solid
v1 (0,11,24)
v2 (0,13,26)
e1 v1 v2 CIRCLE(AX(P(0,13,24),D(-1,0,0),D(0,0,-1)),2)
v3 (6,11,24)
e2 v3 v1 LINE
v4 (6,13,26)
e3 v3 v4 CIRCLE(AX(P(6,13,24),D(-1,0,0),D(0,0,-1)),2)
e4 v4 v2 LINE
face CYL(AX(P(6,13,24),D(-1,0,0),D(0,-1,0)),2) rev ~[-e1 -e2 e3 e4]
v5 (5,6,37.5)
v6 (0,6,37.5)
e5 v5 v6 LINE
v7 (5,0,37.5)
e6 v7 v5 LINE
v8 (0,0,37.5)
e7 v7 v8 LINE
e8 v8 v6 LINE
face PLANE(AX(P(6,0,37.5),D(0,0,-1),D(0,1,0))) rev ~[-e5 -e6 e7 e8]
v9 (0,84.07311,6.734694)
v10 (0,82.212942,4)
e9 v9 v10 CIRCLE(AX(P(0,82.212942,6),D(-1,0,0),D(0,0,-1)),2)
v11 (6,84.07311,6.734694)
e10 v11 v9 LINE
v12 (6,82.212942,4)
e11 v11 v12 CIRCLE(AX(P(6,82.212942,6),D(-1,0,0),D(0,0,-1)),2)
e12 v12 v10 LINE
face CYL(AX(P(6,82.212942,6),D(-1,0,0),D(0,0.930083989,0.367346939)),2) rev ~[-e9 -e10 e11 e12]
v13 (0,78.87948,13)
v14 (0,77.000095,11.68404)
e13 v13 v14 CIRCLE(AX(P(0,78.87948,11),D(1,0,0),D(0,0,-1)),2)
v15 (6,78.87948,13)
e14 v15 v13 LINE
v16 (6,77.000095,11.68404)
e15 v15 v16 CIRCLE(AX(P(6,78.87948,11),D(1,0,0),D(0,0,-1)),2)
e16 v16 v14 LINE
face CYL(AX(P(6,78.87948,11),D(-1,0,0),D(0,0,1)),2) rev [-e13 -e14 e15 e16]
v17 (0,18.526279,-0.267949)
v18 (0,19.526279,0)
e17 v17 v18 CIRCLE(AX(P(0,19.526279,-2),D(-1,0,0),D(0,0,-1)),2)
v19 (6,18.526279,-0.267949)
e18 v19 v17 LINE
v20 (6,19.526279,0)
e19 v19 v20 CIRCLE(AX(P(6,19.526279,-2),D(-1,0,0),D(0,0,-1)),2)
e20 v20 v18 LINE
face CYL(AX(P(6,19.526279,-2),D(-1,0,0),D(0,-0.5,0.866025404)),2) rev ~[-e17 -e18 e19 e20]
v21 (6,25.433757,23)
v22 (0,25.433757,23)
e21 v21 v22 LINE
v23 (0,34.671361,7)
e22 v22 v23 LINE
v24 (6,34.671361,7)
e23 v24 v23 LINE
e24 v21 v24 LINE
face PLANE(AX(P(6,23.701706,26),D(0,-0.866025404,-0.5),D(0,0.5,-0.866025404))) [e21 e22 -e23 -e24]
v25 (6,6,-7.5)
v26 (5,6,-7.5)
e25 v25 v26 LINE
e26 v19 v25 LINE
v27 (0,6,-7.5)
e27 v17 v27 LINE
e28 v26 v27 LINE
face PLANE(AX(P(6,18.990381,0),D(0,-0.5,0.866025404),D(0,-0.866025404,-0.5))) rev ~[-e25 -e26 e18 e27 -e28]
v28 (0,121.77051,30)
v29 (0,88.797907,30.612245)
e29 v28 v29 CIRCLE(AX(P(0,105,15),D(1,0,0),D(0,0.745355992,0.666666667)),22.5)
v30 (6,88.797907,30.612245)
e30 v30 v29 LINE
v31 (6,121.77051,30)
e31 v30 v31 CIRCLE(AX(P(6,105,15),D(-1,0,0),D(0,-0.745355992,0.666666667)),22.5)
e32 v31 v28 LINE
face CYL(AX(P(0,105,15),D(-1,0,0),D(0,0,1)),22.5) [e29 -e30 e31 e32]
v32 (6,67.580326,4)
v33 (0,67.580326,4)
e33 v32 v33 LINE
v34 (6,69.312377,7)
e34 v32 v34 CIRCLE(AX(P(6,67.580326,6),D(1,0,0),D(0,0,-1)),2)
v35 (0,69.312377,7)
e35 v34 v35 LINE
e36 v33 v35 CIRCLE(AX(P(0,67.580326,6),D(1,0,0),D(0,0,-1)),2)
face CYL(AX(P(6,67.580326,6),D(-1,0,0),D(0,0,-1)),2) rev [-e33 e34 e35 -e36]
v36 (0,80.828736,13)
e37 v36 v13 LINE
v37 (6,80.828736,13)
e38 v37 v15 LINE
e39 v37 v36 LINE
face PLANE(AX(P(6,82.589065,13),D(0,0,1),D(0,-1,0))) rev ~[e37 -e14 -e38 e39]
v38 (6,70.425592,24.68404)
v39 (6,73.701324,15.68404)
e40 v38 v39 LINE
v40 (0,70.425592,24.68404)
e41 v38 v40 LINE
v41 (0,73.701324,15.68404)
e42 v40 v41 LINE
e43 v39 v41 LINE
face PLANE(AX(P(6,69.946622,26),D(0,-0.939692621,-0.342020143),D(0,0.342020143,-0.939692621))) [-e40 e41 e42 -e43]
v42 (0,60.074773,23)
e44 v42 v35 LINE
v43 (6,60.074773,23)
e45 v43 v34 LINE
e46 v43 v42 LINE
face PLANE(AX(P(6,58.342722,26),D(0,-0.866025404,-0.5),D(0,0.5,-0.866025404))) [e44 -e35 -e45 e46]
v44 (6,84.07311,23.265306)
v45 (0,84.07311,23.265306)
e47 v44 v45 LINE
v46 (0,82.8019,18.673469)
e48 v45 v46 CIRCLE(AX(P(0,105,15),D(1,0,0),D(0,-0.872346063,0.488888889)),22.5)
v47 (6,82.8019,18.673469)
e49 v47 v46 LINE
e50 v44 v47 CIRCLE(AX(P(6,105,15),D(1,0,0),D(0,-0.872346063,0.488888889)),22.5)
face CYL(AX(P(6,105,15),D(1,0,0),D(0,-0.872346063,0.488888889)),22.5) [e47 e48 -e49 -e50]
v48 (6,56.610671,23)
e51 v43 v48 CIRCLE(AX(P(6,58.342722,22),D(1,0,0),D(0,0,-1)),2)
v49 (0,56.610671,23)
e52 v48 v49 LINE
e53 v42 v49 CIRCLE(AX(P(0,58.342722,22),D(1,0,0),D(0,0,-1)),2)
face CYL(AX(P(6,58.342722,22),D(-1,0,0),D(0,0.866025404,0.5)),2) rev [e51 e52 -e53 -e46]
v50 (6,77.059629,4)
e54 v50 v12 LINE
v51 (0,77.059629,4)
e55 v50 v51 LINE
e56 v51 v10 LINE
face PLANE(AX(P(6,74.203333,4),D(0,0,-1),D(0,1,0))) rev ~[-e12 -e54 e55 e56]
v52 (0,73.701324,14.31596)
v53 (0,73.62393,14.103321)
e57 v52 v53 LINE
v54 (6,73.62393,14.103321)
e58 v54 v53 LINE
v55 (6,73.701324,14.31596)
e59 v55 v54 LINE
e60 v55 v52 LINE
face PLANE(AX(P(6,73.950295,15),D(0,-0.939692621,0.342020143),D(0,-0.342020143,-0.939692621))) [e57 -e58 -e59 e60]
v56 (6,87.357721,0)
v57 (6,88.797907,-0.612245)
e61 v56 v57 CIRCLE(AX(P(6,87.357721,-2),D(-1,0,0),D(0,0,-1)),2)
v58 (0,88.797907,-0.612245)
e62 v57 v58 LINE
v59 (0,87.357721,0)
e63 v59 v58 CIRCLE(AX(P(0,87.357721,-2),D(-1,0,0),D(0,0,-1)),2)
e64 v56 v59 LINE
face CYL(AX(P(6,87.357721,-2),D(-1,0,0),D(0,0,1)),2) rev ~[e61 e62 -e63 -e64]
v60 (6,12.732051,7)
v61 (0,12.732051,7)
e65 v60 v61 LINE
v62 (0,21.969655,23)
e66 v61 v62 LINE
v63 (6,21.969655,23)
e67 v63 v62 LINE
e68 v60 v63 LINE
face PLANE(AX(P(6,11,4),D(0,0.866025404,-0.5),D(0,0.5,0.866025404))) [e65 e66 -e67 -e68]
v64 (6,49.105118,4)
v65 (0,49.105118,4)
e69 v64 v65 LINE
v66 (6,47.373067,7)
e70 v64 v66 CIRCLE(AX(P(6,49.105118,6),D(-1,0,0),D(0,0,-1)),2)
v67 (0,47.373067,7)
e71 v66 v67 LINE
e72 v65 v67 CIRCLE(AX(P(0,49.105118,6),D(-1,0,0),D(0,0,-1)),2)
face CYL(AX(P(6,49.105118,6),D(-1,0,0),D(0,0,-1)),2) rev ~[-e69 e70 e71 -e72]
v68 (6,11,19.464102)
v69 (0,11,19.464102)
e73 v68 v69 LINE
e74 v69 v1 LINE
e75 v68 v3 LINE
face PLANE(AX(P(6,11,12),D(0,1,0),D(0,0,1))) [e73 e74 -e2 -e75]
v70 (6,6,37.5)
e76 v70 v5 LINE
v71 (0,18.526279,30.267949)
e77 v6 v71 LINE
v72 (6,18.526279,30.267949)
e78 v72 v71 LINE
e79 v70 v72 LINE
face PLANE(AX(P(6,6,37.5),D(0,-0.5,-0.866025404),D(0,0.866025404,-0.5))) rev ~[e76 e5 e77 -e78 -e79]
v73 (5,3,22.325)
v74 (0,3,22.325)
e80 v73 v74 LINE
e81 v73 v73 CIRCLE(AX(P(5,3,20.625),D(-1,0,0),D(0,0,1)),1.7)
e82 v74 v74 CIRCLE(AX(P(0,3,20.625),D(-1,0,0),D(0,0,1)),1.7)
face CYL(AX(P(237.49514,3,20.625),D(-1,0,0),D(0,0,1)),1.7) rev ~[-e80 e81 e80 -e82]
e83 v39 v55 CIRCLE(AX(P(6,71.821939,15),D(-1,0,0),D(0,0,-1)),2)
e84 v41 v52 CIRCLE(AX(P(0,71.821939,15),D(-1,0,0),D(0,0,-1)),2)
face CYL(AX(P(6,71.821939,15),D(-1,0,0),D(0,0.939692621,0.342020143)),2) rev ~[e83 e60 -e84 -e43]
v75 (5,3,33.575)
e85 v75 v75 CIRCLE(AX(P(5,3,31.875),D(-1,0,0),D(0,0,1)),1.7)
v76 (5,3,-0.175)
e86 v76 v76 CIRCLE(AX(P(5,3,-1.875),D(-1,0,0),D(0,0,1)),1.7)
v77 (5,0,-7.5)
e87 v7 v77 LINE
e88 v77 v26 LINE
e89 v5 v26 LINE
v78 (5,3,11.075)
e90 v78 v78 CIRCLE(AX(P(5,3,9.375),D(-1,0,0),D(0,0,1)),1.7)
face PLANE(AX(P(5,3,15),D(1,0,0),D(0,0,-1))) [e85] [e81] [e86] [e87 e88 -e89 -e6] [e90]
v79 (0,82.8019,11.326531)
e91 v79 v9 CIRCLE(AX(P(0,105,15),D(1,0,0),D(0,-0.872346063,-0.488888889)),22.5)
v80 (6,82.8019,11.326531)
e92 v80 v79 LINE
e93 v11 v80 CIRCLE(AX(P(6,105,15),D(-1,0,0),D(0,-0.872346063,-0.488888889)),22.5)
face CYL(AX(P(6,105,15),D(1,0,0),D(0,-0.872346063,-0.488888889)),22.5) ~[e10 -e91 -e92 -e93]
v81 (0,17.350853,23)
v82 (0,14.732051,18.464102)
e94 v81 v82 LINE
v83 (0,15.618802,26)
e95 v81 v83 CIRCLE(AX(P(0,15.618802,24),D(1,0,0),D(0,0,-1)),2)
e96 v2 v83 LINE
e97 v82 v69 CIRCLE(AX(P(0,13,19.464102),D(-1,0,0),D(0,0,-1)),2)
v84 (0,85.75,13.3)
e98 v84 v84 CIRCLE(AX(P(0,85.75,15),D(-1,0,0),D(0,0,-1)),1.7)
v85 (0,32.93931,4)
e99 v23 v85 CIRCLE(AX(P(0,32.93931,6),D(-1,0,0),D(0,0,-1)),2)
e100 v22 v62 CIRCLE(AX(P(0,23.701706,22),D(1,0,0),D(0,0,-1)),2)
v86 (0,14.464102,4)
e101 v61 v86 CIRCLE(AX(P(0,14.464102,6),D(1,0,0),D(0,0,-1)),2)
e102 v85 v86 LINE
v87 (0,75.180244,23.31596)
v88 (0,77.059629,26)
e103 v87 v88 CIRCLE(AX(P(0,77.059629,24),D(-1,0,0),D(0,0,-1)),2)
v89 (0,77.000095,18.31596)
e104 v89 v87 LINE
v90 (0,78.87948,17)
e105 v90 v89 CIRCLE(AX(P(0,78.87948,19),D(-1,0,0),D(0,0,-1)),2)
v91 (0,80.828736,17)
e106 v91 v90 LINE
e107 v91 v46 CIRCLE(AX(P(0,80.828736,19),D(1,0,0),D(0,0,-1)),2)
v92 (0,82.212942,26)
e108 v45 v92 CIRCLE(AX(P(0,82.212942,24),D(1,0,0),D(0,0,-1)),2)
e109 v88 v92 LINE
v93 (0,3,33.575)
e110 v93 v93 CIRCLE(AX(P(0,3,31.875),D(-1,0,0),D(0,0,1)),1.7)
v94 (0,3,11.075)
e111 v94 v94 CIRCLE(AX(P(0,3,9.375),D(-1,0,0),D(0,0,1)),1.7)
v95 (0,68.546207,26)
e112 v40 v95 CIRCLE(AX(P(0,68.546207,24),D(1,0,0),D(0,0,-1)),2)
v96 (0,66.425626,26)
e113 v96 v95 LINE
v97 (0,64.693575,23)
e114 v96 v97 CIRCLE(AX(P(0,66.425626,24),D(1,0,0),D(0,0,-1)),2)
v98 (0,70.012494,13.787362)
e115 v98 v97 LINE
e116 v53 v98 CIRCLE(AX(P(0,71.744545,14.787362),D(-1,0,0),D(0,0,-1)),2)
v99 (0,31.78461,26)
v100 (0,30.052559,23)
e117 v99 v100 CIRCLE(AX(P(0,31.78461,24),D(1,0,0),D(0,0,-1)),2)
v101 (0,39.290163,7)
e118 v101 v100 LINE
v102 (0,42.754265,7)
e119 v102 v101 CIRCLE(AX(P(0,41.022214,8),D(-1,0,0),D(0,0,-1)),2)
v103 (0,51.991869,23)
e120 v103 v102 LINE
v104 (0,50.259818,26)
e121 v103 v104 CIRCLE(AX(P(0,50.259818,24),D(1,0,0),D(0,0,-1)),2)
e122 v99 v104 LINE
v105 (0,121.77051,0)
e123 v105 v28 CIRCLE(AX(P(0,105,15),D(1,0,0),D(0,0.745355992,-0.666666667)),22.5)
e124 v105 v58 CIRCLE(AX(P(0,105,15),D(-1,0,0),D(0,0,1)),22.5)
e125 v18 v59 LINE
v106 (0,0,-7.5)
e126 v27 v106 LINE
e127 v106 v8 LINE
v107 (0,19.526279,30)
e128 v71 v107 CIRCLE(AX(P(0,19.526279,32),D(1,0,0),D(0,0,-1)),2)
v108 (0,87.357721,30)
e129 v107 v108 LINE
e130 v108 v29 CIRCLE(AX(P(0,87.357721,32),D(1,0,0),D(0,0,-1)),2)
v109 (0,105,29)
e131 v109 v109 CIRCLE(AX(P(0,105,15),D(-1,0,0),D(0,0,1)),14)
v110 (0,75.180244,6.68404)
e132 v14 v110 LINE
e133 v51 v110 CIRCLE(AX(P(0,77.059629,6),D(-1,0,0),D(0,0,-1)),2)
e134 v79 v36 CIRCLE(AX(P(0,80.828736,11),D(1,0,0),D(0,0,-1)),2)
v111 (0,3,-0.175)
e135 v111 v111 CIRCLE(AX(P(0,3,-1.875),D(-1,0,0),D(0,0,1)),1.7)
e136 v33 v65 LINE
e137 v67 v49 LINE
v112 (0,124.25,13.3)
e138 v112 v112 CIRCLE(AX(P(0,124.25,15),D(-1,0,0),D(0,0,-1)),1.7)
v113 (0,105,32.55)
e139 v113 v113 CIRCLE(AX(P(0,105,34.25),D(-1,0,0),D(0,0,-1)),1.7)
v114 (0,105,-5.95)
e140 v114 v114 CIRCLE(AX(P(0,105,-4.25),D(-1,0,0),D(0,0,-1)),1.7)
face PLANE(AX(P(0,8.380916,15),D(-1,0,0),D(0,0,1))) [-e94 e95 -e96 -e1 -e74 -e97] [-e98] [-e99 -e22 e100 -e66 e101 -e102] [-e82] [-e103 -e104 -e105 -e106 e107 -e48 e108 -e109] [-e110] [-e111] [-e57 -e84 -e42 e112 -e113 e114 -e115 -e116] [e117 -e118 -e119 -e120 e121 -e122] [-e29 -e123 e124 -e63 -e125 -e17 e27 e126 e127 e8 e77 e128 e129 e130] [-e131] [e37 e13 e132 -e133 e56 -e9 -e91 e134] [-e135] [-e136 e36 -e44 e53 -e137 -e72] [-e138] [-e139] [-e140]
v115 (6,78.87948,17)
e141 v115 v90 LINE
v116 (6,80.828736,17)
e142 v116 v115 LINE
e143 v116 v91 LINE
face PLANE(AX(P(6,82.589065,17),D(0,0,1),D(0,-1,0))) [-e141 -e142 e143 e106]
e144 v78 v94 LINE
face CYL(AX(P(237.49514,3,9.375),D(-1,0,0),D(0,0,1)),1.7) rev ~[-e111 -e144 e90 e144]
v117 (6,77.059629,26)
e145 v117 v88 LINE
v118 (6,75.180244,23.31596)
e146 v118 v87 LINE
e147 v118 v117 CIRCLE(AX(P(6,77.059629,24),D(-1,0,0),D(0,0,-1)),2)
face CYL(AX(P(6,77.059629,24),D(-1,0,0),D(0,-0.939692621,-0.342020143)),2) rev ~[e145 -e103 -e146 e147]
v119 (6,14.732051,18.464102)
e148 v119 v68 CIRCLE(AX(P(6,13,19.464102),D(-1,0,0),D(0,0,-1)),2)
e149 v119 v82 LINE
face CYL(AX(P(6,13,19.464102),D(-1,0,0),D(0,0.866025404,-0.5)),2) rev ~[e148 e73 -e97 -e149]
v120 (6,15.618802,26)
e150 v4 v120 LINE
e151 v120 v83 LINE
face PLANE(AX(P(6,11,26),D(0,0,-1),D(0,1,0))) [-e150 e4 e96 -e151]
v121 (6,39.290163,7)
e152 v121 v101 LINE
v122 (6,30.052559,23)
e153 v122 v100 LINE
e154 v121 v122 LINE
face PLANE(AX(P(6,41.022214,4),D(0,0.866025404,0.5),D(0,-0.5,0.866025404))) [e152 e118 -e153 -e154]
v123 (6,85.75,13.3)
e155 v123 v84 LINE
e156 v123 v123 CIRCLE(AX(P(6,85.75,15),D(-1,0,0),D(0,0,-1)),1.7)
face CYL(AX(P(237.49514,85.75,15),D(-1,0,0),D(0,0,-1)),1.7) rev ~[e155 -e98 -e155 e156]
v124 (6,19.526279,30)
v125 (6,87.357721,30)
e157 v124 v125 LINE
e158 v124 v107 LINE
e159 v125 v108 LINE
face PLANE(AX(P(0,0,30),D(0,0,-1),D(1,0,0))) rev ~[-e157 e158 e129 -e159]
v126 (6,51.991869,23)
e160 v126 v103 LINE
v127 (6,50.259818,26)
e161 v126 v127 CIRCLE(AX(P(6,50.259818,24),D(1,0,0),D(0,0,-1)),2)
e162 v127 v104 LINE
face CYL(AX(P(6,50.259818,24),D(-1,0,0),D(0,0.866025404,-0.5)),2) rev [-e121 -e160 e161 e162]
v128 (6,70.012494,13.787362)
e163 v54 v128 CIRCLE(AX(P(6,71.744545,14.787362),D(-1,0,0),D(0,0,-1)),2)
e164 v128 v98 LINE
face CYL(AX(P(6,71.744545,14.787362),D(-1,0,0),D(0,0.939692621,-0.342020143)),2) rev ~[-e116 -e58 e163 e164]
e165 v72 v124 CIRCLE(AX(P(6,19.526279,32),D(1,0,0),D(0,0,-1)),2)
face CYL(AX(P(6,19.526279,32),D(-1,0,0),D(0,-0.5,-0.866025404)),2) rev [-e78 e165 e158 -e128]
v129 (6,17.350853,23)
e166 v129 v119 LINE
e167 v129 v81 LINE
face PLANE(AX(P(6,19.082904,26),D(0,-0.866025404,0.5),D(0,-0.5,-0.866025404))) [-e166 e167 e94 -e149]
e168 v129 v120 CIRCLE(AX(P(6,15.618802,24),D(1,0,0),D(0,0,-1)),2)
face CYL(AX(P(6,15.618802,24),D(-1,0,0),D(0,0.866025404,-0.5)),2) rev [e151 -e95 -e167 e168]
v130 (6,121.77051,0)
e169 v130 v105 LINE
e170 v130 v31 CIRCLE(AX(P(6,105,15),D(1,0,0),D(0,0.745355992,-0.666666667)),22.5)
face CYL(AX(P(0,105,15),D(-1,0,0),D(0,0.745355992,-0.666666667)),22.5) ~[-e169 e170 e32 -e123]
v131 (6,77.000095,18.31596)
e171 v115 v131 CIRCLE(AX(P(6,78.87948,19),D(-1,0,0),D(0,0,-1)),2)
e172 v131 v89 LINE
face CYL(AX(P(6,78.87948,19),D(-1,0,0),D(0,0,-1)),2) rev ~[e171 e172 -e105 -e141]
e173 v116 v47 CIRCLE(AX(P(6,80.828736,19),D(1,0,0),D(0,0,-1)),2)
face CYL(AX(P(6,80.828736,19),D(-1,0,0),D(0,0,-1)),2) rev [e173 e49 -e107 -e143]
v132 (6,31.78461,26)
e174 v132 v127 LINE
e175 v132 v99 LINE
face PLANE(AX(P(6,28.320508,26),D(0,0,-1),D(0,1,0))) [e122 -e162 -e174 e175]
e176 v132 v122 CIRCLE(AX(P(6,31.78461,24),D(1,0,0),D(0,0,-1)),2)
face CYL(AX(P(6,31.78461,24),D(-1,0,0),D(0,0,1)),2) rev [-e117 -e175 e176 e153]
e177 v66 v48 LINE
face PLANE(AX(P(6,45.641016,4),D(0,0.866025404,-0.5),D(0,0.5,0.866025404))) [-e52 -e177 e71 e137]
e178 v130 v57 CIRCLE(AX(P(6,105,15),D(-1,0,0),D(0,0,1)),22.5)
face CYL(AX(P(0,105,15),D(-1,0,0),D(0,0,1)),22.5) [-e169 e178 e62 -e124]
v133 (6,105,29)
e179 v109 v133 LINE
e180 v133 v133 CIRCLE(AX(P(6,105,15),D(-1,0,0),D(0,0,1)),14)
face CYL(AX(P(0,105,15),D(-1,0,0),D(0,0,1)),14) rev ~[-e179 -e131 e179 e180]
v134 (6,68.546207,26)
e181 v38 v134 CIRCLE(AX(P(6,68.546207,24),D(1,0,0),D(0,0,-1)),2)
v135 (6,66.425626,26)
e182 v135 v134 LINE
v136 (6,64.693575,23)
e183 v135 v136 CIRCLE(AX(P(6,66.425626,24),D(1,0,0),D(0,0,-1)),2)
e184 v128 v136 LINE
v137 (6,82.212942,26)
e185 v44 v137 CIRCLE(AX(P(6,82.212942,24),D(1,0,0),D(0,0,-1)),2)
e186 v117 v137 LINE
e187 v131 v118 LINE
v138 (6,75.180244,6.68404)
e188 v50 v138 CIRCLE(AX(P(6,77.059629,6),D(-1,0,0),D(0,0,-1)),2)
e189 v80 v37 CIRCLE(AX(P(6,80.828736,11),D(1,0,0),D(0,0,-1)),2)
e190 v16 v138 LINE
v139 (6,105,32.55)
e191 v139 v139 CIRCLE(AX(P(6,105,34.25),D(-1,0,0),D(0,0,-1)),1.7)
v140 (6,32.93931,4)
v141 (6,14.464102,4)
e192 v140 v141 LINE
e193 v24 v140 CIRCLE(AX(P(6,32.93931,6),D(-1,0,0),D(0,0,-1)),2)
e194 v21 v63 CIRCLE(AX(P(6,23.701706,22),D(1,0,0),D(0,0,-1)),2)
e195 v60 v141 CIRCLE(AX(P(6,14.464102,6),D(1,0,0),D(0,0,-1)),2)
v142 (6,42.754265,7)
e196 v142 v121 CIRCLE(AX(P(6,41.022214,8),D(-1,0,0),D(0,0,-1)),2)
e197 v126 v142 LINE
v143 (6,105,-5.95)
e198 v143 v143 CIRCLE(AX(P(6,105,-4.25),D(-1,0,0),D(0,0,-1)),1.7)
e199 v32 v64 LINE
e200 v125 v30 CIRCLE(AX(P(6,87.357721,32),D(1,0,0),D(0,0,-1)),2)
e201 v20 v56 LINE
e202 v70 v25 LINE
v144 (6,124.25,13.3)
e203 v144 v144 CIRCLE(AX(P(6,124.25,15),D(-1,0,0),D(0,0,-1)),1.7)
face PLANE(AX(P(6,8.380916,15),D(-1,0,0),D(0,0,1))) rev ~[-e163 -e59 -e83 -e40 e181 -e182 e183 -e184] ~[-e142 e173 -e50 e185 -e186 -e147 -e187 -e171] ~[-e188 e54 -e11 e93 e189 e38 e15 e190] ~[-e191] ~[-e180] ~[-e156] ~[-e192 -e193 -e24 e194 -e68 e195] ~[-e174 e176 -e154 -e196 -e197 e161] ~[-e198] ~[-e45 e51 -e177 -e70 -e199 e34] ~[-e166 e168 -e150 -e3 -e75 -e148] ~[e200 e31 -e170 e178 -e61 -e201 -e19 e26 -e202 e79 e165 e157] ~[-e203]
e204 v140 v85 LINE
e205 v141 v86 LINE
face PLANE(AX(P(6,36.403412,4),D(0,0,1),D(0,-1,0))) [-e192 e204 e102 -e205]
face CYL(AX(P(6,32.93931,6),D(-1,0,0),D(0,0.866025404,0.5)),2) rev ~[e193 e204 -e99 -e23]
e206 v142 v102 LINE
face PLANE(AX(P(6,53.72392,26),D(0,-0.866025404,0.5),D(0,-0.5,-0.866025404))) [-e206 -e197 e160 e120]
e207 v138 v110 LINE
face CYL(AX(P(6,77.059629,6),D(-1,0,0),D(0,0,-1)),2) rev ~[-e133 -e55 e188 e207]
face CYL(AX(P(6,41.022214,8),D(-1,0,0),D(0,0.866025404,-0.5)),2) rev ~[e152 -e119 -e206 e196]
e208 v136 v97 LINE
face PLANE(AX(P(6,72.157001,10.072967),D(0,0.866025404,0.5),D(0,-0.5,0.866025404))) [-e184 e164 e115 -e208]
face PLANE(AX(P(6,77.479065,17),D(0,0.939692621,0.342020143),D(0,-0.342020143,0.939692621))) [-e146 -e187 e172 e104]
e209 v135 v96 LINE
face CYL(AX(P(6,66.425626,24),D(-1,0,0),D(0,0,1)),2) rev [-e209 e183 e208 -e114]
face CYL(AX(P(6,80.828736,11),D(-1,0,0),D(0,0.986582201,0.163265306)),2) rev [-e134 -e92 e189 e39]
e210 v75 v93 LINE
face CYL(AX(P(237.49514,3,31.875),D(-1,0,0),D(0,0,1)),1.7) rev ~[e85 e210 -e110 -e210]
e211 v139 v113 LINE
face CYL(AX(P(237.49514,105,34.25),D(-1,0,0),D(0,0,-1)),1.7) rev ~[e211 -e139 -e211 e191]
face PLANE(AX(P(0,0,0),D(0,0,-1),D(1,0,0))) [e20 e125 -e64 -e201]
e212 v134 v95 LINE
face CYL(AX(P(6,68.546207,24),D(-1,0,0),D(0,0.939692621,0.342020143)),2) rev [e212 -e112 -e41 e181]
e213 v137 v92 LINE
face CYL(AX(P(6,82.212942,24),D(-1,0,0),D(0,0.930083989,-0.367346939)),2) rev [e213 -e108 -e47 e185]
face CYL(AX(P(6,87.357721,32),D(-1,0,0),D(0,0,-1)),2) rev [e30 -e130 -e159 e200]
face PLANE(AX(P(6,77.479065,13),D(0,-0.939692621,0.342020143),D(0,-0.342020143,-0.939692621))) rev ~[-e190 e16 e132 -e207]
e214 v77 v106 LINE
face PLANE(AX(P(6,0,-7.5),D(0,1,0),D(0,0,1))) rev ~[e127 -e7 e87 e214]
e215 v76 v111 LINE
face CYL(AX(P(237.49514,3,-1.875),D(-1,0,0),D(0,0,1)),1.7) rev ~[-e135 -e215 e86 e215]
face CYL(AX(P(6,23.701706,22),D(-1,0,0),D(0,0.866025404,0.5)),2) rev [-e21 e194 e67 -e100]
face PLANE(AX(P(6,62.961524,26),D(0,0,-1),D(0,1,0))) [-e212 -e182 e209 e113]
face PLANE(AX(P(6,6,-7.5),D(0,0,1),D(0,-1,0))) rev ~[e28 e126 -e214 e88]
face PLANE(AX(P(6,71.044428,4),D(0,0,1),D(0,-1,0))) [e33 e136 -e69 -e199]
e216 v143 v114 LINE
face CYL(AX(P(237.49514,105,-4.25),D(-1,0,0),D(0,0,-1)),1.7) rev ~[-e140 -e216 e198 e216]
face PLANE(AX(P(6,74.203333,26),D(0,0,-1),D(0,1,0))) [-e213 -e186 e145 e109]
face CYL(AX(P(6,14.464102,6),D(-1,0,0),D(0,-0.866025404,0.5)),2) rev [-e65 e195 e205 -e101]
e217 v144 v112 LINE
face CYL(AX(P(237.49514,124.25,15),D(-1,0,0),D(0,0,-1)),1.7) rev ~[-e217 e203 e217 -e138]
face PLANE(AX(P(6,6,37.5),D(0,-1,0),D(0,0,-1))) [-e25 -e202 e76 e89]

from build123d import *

# Parameters (mm, degrees)
SKETCH_1_W          = 6
SKETCH_1_H          = 30
EXTRUDE_1_DEPTH     = 227
SKETCH_2_R          = 22.5
EXTRUDE_2_DEPTH     = 6
SKETCH_3_R          = 14
CUT_EXTRUDE_1_DEPTH = 231.154839184
HOLE_WIZARD_M32_D   = 3.4
EXTRUDE_3_DEPTH     = 6
HOLE_WIZARD_M31_D   = 3.4
SKETCH_14_W         = 45
SKETCH_14_H         = 6
CUT_EXTRUDE_2_DEPTH = 1
CUT_EXTRUDE_START   = -6
CUT_EXTRUDE_3_DEPTH = 6
CUT_EXTRUDE_5_REACH = 135.036
FILLET_2_R          = 2


with BuildPart() as part:
    # Эскиз1 → Бобышка-Вытянуть1 (new body)
    with BuildSketch(Plane(origin=(0, 0, 0), x_dir=(1, 0, 0), z_dir=(0, 1, 0))):
        with Locations((3, -15)):
            Rectangle(SKETCH_1_W, SKETCH_1_H)
    extrude(amount=EXTRUDE_1_DEPTH)

    # Эскиз2 → Бобышка-Вытянуть2 (add)
    with BuildSketch(Plane.ZY):
        with Locations((15, 105)):
            Circle(SKETCH_2_R)
    extrude(amount=-EXTRUDE_2_DEPTH)

    # Эскиз3 → Вырез-Вытянуть1 (cut, through all)
    with BuildSketch(Plane.ZY):
        with Locations((15, 105)):
            Circle(SKETCH_3_R)
    extrude(amount=-CUT_EXTRUDE_1_DEPTH, mode=Mode.SUBTRACT)

    # Отверстие с зазором M32 (through all)
    with Locations(Plane(origin=(6, -25.024735225, 7.262908886), x_dir=(0, 0, 1), z_dir=(1, 0, 0))):
        with Locations((7.737091114, -149.274735225), (-11.512908886, -130.024735225), (7.737091114, -110.774735225), (26.987091114, -130.024735225)):
            Hole(HOLE_WIZARD_M32_D / 2)

    # Эскиз11 → Бобышка-Вытянуть3 (add)
    with BuildSketch(Plane(origin=(6, 0, 0), x_dir=(0, 0, -1), z_dir=(1, 0, 0))):
        Polygon((0, 18.990381057), (7.5, 6), (7.5, 0), (-37.5, 0), (-37.5, 6), (-30, 18.990381057), align=None)
    extrude(amount=-EXTRUDE_3_DEPTH)

    # Отверстие с зазором M31 (through all)
    with Locations(Plane(origin=(6, 0, 0), x_dir=(0, 0, -1), z_dir=(1, 0, 0))):
        with Locations((-31.875, 3), (-20.625, 3), (-9.375, 3), (1.875, 3)):
            Hole(HOLE_WIZARD_M31_D / 2)

    # Эскиз14 → Вырез-Вытянуть2 (cut)
    with BuildSketch(Plane(origin=(6, 0, 0), x_dir=(0, 0, -1), z_dir=(1, 0, 0))):
        with Locations((-15, 3)):
            Rectangle(SKETCH_14_W, SKETCH_14_H)
    extrude(amount=-CUT_EXTRUDE_2_DEPTH, mode=Mode.SUBTRACT)

    # Эскиз15 → Вырез-Вытянуть3 (cut)
    with BuildSketch(Plane(origin=(6, 0, 0), x_dir=(0, 0, -1), z_dir=(1, 0, 0)).offset(CUT_EXTRUDE_START)):
        with BuildLine():
            Line((-30, 227), (0, 227))
            Line((0, 227), (0, 121.770509831))
            ThreePointArc((0, 121.770509831), (-15, 127.5), (-30, 121.770509831))
            Line((-30, 121.770509831), (-30, 227))
        make_face()
    extrude(amount=CUT_EXTRUDE_3_DEPTH, mode=Mode.SUBTRACT)

    # Эскиз17 → Вырез-Вытянуть5 (cut, up to next)
    with BuildSketch(Plane(origin=(6, 0, 0), x_dir=(0, 0, -1), z_dir=(1, 0, 0)), mode=Mode.PRIVATE) as cut_extrude_5_sk1:
        with BuildLine():
            Line((-17, 82.589065169), (-17, 77.479065169))
            Line((-17, 77.479065169), (-26, 74.203333061))
            Line((-26, 74.203333061), (-26, 85.372213574))
            ThreePointArc((-26, 85.372213574), (-21.647291084, 83.504337153), (-17, 82.589065169))
        make_face()
    cut_extrude_5_tool1 = extrude(cut_extrude_5_sk1.sketch, amount=-CUT_EXTRUDE_5_REACH, mode=Mode.PRIVATE) & part.part
    # Эскиз17 → Вырез-Вытянуть5 (cut, up to next)
    with BuildSketch(Plane(origin=(6, 0, 0), x_dir=(0, 0, -1), z_dir=(1, 0, 0)), mode=Mode.PRIVATE) as cut_extrude_5_sk2:
        with BuildLine():
            Line((-13, 82.589065169), (-13, 77.479065169))
            Line((-13, 77.479065169), (-4, 74.203333061))
            Line((-4, 74.203333061), (-4, 85.372213574))
            ThreePointArc((-4, 85.372213574), (-8.352708916, 83.504337153), (-13, 82.589065169))
        make_face()
    cut_extrude_5_tool2 = extrude(cut_extrude_5_sk2.sketch, amount=-CUT_EXTRUDE_5_REACH, mode=Mode.PRIVATE) & part.part
    # Эскиз17 → Вырез-Вытянуть5 (cut, up to next)
    with BuildSketch(Plane(origin=(6, 0, 0), x_dir=(0, 0, -1), z_dir=(1, 0, 0)), mode=Mode.PRIVATE) as cut_extrude_5_sk3:
        Polygon((-26, 69.946621971), (-15, 73.950294548), (-10.072966814, 72.157001125), (-26, 62.961524227), align=None)
    cut_extrude_5_tool3 = extrude(cut_extrude_5_sk3.sketch, amount=-CUT_EXTRUDE_5_REACH, mode=Mode.PRIVATE) & part.part
    # Эскиз17 → Вырез-Вытянуть5 (cut, up to next)
    with BuildSketch(Plane(origin=(6, 0, 0), x_dir=(0, 0, -1), z_dir=(1, 0, 0)), mode=Mode.PRIVATE) as cut_extrude_5_sk4:
        Polygon((-4, 71.044427996), (-4, 45.641016151), (-26, 58.342722074), align=None)
    cut_extrude_5_tool4 = extrude(cut_extrude_5_sk4.sketch, amount=-CUT_EXTRUDE_5_REACH, mode=Mode.PRIVATE) & part.part
    # Эскиз17 → Вырез-Вытянуть5 (cut, up to next)
    with BuildSketch(Plane(origin=(6, 0, 0), x_dir=(0, 0, -1), z_dir=(1, 0, 0)), mode=Mode.PRIVATE) as cut_extrude_5_sk5:
        Polygon((-26, 53.72391992), (-4, 41.022213998), (-26, 28.320508076), align=None)
    cut_extrude_5_tool5 = extrude(cut_extrude_5_sk5.sketch, amount=-CUT_EXTRUDE_5_REACH, mode=Mode.PRIVATE) & part.part
    # Эскиз17 → Вырез-Вытянуть5 (cut, up to next)
    with BuildSketch(Plane(origin=(6, 0, 0), x_dir=(0, 0, -1), z_dir=(1, 0, 0)), mode=Mode.PRIVATE) as cut_extrude_5_sk6:
        Polygon((-26, 23.701705922), (-4, 36.403411844), (-4, 11), align=None)
    cut_extrude_5_tool6 = extrude(cut_extrude_5_sk6.sketch, amount=-CUT_EXTRUDE_5_REACH, mode=Mode.PRIVATE) & part.part
    # Эскиз17 → Вырез-Вытянуть5 (cut, up to next)
    with BuildSketch(Plane(origin=(6, 0, 0), x_dir=(0, 0, -1), z_dir=(1, 0, 0)), mode=Mode.PRIVATE) as cut_extrude_5_sk7:
        Polygon((-26, 19.082903769), (-12, 11), (-26, 11), align=None)
    cut_extrude_5_tool7 = extrude(cut_extrude_5_sk7.sketch, amount=-CUT_EXTRUDE_5_REACH, mode=Mode.PRIVATE) & part.part
    add(cut_extrude_5_tool1.solids().sort_by_distance((6, 79.721351, 22.080636))[0], mode=Mode.SUBTRACT)
    add(cut_extrude_5_tool2.solids().sort_by_distance((6, 79.721351, 7.919364))[0], mode=Mode.SUBTRACT)
    add(cut_extrude_5_tool3.solids().sort_by_distance((6, 69.313955, 19.731103))[0], mode=Mode.SUBTRACT)
    add(cut_extrude_5_tool4.solids().sort_by_distance((6, 58.342722, 11.333333))[0], mode=Mode.SUBTRACT)
    add(cut_extrude_5_tool5.solids().sort_by_distance((6, 41.022214, 18.666667))[0], mode=Mode.SUBTRACT)
    add(cut_extrude_5_tool6.solids().sort_by_distance((6, 23.701706, 11.333333))[0], mode=Mode.SUBTRACT)
    add(cut_extrude_5_tool7.solids().sort_by_distance((6, 13.694301, 21.333333))[0], mode=Mode.SUBTRACT)

    # Скругление2
    fillet_2_edges = [part.edges().sort_by_distance(p)[0] for p in [
        (3, 88.229490169, 0),
        (3, 85.372213574, 26),
        (3, 82.589065169, 17),
        (3, 77.479065169, 17),
        (3, 74.203333061, 26),
        (3, 82.589065169, 13),
        (3, 85.372213574, 4),
        (3, 74.203333061, 4),
        (3, 77.479065169, 13),
        (3, 62.961524227, 26),
        (3, 69.946621971, 26),
        (3, 73.950294548, 15),
        (3, 72.157001125, 10.072966814),
        (3, 28.320508076, 26),
        (3, 53.72391992, 26),
        (3, 41.022213998, 4),
        (3, 58.342722074, 26),
        (3, 71.044427996, 4),
        (3, 45.641016151, 4),
        (3, 88.229490169, 30),
        (3, 11, 4),
        (3, 23.701705922, 26),
        (3, 36.403411844, 4),
        (3, 11, 26),
        (3, 19.082903769, 26),
        (3, 11, 12),
        (3, 18.990381057, 30),
        (3, 18.990381057, 0),
    ]]
    fillet(fillet_2_edges, radius=FILLET_2_R)


solid = part.part
